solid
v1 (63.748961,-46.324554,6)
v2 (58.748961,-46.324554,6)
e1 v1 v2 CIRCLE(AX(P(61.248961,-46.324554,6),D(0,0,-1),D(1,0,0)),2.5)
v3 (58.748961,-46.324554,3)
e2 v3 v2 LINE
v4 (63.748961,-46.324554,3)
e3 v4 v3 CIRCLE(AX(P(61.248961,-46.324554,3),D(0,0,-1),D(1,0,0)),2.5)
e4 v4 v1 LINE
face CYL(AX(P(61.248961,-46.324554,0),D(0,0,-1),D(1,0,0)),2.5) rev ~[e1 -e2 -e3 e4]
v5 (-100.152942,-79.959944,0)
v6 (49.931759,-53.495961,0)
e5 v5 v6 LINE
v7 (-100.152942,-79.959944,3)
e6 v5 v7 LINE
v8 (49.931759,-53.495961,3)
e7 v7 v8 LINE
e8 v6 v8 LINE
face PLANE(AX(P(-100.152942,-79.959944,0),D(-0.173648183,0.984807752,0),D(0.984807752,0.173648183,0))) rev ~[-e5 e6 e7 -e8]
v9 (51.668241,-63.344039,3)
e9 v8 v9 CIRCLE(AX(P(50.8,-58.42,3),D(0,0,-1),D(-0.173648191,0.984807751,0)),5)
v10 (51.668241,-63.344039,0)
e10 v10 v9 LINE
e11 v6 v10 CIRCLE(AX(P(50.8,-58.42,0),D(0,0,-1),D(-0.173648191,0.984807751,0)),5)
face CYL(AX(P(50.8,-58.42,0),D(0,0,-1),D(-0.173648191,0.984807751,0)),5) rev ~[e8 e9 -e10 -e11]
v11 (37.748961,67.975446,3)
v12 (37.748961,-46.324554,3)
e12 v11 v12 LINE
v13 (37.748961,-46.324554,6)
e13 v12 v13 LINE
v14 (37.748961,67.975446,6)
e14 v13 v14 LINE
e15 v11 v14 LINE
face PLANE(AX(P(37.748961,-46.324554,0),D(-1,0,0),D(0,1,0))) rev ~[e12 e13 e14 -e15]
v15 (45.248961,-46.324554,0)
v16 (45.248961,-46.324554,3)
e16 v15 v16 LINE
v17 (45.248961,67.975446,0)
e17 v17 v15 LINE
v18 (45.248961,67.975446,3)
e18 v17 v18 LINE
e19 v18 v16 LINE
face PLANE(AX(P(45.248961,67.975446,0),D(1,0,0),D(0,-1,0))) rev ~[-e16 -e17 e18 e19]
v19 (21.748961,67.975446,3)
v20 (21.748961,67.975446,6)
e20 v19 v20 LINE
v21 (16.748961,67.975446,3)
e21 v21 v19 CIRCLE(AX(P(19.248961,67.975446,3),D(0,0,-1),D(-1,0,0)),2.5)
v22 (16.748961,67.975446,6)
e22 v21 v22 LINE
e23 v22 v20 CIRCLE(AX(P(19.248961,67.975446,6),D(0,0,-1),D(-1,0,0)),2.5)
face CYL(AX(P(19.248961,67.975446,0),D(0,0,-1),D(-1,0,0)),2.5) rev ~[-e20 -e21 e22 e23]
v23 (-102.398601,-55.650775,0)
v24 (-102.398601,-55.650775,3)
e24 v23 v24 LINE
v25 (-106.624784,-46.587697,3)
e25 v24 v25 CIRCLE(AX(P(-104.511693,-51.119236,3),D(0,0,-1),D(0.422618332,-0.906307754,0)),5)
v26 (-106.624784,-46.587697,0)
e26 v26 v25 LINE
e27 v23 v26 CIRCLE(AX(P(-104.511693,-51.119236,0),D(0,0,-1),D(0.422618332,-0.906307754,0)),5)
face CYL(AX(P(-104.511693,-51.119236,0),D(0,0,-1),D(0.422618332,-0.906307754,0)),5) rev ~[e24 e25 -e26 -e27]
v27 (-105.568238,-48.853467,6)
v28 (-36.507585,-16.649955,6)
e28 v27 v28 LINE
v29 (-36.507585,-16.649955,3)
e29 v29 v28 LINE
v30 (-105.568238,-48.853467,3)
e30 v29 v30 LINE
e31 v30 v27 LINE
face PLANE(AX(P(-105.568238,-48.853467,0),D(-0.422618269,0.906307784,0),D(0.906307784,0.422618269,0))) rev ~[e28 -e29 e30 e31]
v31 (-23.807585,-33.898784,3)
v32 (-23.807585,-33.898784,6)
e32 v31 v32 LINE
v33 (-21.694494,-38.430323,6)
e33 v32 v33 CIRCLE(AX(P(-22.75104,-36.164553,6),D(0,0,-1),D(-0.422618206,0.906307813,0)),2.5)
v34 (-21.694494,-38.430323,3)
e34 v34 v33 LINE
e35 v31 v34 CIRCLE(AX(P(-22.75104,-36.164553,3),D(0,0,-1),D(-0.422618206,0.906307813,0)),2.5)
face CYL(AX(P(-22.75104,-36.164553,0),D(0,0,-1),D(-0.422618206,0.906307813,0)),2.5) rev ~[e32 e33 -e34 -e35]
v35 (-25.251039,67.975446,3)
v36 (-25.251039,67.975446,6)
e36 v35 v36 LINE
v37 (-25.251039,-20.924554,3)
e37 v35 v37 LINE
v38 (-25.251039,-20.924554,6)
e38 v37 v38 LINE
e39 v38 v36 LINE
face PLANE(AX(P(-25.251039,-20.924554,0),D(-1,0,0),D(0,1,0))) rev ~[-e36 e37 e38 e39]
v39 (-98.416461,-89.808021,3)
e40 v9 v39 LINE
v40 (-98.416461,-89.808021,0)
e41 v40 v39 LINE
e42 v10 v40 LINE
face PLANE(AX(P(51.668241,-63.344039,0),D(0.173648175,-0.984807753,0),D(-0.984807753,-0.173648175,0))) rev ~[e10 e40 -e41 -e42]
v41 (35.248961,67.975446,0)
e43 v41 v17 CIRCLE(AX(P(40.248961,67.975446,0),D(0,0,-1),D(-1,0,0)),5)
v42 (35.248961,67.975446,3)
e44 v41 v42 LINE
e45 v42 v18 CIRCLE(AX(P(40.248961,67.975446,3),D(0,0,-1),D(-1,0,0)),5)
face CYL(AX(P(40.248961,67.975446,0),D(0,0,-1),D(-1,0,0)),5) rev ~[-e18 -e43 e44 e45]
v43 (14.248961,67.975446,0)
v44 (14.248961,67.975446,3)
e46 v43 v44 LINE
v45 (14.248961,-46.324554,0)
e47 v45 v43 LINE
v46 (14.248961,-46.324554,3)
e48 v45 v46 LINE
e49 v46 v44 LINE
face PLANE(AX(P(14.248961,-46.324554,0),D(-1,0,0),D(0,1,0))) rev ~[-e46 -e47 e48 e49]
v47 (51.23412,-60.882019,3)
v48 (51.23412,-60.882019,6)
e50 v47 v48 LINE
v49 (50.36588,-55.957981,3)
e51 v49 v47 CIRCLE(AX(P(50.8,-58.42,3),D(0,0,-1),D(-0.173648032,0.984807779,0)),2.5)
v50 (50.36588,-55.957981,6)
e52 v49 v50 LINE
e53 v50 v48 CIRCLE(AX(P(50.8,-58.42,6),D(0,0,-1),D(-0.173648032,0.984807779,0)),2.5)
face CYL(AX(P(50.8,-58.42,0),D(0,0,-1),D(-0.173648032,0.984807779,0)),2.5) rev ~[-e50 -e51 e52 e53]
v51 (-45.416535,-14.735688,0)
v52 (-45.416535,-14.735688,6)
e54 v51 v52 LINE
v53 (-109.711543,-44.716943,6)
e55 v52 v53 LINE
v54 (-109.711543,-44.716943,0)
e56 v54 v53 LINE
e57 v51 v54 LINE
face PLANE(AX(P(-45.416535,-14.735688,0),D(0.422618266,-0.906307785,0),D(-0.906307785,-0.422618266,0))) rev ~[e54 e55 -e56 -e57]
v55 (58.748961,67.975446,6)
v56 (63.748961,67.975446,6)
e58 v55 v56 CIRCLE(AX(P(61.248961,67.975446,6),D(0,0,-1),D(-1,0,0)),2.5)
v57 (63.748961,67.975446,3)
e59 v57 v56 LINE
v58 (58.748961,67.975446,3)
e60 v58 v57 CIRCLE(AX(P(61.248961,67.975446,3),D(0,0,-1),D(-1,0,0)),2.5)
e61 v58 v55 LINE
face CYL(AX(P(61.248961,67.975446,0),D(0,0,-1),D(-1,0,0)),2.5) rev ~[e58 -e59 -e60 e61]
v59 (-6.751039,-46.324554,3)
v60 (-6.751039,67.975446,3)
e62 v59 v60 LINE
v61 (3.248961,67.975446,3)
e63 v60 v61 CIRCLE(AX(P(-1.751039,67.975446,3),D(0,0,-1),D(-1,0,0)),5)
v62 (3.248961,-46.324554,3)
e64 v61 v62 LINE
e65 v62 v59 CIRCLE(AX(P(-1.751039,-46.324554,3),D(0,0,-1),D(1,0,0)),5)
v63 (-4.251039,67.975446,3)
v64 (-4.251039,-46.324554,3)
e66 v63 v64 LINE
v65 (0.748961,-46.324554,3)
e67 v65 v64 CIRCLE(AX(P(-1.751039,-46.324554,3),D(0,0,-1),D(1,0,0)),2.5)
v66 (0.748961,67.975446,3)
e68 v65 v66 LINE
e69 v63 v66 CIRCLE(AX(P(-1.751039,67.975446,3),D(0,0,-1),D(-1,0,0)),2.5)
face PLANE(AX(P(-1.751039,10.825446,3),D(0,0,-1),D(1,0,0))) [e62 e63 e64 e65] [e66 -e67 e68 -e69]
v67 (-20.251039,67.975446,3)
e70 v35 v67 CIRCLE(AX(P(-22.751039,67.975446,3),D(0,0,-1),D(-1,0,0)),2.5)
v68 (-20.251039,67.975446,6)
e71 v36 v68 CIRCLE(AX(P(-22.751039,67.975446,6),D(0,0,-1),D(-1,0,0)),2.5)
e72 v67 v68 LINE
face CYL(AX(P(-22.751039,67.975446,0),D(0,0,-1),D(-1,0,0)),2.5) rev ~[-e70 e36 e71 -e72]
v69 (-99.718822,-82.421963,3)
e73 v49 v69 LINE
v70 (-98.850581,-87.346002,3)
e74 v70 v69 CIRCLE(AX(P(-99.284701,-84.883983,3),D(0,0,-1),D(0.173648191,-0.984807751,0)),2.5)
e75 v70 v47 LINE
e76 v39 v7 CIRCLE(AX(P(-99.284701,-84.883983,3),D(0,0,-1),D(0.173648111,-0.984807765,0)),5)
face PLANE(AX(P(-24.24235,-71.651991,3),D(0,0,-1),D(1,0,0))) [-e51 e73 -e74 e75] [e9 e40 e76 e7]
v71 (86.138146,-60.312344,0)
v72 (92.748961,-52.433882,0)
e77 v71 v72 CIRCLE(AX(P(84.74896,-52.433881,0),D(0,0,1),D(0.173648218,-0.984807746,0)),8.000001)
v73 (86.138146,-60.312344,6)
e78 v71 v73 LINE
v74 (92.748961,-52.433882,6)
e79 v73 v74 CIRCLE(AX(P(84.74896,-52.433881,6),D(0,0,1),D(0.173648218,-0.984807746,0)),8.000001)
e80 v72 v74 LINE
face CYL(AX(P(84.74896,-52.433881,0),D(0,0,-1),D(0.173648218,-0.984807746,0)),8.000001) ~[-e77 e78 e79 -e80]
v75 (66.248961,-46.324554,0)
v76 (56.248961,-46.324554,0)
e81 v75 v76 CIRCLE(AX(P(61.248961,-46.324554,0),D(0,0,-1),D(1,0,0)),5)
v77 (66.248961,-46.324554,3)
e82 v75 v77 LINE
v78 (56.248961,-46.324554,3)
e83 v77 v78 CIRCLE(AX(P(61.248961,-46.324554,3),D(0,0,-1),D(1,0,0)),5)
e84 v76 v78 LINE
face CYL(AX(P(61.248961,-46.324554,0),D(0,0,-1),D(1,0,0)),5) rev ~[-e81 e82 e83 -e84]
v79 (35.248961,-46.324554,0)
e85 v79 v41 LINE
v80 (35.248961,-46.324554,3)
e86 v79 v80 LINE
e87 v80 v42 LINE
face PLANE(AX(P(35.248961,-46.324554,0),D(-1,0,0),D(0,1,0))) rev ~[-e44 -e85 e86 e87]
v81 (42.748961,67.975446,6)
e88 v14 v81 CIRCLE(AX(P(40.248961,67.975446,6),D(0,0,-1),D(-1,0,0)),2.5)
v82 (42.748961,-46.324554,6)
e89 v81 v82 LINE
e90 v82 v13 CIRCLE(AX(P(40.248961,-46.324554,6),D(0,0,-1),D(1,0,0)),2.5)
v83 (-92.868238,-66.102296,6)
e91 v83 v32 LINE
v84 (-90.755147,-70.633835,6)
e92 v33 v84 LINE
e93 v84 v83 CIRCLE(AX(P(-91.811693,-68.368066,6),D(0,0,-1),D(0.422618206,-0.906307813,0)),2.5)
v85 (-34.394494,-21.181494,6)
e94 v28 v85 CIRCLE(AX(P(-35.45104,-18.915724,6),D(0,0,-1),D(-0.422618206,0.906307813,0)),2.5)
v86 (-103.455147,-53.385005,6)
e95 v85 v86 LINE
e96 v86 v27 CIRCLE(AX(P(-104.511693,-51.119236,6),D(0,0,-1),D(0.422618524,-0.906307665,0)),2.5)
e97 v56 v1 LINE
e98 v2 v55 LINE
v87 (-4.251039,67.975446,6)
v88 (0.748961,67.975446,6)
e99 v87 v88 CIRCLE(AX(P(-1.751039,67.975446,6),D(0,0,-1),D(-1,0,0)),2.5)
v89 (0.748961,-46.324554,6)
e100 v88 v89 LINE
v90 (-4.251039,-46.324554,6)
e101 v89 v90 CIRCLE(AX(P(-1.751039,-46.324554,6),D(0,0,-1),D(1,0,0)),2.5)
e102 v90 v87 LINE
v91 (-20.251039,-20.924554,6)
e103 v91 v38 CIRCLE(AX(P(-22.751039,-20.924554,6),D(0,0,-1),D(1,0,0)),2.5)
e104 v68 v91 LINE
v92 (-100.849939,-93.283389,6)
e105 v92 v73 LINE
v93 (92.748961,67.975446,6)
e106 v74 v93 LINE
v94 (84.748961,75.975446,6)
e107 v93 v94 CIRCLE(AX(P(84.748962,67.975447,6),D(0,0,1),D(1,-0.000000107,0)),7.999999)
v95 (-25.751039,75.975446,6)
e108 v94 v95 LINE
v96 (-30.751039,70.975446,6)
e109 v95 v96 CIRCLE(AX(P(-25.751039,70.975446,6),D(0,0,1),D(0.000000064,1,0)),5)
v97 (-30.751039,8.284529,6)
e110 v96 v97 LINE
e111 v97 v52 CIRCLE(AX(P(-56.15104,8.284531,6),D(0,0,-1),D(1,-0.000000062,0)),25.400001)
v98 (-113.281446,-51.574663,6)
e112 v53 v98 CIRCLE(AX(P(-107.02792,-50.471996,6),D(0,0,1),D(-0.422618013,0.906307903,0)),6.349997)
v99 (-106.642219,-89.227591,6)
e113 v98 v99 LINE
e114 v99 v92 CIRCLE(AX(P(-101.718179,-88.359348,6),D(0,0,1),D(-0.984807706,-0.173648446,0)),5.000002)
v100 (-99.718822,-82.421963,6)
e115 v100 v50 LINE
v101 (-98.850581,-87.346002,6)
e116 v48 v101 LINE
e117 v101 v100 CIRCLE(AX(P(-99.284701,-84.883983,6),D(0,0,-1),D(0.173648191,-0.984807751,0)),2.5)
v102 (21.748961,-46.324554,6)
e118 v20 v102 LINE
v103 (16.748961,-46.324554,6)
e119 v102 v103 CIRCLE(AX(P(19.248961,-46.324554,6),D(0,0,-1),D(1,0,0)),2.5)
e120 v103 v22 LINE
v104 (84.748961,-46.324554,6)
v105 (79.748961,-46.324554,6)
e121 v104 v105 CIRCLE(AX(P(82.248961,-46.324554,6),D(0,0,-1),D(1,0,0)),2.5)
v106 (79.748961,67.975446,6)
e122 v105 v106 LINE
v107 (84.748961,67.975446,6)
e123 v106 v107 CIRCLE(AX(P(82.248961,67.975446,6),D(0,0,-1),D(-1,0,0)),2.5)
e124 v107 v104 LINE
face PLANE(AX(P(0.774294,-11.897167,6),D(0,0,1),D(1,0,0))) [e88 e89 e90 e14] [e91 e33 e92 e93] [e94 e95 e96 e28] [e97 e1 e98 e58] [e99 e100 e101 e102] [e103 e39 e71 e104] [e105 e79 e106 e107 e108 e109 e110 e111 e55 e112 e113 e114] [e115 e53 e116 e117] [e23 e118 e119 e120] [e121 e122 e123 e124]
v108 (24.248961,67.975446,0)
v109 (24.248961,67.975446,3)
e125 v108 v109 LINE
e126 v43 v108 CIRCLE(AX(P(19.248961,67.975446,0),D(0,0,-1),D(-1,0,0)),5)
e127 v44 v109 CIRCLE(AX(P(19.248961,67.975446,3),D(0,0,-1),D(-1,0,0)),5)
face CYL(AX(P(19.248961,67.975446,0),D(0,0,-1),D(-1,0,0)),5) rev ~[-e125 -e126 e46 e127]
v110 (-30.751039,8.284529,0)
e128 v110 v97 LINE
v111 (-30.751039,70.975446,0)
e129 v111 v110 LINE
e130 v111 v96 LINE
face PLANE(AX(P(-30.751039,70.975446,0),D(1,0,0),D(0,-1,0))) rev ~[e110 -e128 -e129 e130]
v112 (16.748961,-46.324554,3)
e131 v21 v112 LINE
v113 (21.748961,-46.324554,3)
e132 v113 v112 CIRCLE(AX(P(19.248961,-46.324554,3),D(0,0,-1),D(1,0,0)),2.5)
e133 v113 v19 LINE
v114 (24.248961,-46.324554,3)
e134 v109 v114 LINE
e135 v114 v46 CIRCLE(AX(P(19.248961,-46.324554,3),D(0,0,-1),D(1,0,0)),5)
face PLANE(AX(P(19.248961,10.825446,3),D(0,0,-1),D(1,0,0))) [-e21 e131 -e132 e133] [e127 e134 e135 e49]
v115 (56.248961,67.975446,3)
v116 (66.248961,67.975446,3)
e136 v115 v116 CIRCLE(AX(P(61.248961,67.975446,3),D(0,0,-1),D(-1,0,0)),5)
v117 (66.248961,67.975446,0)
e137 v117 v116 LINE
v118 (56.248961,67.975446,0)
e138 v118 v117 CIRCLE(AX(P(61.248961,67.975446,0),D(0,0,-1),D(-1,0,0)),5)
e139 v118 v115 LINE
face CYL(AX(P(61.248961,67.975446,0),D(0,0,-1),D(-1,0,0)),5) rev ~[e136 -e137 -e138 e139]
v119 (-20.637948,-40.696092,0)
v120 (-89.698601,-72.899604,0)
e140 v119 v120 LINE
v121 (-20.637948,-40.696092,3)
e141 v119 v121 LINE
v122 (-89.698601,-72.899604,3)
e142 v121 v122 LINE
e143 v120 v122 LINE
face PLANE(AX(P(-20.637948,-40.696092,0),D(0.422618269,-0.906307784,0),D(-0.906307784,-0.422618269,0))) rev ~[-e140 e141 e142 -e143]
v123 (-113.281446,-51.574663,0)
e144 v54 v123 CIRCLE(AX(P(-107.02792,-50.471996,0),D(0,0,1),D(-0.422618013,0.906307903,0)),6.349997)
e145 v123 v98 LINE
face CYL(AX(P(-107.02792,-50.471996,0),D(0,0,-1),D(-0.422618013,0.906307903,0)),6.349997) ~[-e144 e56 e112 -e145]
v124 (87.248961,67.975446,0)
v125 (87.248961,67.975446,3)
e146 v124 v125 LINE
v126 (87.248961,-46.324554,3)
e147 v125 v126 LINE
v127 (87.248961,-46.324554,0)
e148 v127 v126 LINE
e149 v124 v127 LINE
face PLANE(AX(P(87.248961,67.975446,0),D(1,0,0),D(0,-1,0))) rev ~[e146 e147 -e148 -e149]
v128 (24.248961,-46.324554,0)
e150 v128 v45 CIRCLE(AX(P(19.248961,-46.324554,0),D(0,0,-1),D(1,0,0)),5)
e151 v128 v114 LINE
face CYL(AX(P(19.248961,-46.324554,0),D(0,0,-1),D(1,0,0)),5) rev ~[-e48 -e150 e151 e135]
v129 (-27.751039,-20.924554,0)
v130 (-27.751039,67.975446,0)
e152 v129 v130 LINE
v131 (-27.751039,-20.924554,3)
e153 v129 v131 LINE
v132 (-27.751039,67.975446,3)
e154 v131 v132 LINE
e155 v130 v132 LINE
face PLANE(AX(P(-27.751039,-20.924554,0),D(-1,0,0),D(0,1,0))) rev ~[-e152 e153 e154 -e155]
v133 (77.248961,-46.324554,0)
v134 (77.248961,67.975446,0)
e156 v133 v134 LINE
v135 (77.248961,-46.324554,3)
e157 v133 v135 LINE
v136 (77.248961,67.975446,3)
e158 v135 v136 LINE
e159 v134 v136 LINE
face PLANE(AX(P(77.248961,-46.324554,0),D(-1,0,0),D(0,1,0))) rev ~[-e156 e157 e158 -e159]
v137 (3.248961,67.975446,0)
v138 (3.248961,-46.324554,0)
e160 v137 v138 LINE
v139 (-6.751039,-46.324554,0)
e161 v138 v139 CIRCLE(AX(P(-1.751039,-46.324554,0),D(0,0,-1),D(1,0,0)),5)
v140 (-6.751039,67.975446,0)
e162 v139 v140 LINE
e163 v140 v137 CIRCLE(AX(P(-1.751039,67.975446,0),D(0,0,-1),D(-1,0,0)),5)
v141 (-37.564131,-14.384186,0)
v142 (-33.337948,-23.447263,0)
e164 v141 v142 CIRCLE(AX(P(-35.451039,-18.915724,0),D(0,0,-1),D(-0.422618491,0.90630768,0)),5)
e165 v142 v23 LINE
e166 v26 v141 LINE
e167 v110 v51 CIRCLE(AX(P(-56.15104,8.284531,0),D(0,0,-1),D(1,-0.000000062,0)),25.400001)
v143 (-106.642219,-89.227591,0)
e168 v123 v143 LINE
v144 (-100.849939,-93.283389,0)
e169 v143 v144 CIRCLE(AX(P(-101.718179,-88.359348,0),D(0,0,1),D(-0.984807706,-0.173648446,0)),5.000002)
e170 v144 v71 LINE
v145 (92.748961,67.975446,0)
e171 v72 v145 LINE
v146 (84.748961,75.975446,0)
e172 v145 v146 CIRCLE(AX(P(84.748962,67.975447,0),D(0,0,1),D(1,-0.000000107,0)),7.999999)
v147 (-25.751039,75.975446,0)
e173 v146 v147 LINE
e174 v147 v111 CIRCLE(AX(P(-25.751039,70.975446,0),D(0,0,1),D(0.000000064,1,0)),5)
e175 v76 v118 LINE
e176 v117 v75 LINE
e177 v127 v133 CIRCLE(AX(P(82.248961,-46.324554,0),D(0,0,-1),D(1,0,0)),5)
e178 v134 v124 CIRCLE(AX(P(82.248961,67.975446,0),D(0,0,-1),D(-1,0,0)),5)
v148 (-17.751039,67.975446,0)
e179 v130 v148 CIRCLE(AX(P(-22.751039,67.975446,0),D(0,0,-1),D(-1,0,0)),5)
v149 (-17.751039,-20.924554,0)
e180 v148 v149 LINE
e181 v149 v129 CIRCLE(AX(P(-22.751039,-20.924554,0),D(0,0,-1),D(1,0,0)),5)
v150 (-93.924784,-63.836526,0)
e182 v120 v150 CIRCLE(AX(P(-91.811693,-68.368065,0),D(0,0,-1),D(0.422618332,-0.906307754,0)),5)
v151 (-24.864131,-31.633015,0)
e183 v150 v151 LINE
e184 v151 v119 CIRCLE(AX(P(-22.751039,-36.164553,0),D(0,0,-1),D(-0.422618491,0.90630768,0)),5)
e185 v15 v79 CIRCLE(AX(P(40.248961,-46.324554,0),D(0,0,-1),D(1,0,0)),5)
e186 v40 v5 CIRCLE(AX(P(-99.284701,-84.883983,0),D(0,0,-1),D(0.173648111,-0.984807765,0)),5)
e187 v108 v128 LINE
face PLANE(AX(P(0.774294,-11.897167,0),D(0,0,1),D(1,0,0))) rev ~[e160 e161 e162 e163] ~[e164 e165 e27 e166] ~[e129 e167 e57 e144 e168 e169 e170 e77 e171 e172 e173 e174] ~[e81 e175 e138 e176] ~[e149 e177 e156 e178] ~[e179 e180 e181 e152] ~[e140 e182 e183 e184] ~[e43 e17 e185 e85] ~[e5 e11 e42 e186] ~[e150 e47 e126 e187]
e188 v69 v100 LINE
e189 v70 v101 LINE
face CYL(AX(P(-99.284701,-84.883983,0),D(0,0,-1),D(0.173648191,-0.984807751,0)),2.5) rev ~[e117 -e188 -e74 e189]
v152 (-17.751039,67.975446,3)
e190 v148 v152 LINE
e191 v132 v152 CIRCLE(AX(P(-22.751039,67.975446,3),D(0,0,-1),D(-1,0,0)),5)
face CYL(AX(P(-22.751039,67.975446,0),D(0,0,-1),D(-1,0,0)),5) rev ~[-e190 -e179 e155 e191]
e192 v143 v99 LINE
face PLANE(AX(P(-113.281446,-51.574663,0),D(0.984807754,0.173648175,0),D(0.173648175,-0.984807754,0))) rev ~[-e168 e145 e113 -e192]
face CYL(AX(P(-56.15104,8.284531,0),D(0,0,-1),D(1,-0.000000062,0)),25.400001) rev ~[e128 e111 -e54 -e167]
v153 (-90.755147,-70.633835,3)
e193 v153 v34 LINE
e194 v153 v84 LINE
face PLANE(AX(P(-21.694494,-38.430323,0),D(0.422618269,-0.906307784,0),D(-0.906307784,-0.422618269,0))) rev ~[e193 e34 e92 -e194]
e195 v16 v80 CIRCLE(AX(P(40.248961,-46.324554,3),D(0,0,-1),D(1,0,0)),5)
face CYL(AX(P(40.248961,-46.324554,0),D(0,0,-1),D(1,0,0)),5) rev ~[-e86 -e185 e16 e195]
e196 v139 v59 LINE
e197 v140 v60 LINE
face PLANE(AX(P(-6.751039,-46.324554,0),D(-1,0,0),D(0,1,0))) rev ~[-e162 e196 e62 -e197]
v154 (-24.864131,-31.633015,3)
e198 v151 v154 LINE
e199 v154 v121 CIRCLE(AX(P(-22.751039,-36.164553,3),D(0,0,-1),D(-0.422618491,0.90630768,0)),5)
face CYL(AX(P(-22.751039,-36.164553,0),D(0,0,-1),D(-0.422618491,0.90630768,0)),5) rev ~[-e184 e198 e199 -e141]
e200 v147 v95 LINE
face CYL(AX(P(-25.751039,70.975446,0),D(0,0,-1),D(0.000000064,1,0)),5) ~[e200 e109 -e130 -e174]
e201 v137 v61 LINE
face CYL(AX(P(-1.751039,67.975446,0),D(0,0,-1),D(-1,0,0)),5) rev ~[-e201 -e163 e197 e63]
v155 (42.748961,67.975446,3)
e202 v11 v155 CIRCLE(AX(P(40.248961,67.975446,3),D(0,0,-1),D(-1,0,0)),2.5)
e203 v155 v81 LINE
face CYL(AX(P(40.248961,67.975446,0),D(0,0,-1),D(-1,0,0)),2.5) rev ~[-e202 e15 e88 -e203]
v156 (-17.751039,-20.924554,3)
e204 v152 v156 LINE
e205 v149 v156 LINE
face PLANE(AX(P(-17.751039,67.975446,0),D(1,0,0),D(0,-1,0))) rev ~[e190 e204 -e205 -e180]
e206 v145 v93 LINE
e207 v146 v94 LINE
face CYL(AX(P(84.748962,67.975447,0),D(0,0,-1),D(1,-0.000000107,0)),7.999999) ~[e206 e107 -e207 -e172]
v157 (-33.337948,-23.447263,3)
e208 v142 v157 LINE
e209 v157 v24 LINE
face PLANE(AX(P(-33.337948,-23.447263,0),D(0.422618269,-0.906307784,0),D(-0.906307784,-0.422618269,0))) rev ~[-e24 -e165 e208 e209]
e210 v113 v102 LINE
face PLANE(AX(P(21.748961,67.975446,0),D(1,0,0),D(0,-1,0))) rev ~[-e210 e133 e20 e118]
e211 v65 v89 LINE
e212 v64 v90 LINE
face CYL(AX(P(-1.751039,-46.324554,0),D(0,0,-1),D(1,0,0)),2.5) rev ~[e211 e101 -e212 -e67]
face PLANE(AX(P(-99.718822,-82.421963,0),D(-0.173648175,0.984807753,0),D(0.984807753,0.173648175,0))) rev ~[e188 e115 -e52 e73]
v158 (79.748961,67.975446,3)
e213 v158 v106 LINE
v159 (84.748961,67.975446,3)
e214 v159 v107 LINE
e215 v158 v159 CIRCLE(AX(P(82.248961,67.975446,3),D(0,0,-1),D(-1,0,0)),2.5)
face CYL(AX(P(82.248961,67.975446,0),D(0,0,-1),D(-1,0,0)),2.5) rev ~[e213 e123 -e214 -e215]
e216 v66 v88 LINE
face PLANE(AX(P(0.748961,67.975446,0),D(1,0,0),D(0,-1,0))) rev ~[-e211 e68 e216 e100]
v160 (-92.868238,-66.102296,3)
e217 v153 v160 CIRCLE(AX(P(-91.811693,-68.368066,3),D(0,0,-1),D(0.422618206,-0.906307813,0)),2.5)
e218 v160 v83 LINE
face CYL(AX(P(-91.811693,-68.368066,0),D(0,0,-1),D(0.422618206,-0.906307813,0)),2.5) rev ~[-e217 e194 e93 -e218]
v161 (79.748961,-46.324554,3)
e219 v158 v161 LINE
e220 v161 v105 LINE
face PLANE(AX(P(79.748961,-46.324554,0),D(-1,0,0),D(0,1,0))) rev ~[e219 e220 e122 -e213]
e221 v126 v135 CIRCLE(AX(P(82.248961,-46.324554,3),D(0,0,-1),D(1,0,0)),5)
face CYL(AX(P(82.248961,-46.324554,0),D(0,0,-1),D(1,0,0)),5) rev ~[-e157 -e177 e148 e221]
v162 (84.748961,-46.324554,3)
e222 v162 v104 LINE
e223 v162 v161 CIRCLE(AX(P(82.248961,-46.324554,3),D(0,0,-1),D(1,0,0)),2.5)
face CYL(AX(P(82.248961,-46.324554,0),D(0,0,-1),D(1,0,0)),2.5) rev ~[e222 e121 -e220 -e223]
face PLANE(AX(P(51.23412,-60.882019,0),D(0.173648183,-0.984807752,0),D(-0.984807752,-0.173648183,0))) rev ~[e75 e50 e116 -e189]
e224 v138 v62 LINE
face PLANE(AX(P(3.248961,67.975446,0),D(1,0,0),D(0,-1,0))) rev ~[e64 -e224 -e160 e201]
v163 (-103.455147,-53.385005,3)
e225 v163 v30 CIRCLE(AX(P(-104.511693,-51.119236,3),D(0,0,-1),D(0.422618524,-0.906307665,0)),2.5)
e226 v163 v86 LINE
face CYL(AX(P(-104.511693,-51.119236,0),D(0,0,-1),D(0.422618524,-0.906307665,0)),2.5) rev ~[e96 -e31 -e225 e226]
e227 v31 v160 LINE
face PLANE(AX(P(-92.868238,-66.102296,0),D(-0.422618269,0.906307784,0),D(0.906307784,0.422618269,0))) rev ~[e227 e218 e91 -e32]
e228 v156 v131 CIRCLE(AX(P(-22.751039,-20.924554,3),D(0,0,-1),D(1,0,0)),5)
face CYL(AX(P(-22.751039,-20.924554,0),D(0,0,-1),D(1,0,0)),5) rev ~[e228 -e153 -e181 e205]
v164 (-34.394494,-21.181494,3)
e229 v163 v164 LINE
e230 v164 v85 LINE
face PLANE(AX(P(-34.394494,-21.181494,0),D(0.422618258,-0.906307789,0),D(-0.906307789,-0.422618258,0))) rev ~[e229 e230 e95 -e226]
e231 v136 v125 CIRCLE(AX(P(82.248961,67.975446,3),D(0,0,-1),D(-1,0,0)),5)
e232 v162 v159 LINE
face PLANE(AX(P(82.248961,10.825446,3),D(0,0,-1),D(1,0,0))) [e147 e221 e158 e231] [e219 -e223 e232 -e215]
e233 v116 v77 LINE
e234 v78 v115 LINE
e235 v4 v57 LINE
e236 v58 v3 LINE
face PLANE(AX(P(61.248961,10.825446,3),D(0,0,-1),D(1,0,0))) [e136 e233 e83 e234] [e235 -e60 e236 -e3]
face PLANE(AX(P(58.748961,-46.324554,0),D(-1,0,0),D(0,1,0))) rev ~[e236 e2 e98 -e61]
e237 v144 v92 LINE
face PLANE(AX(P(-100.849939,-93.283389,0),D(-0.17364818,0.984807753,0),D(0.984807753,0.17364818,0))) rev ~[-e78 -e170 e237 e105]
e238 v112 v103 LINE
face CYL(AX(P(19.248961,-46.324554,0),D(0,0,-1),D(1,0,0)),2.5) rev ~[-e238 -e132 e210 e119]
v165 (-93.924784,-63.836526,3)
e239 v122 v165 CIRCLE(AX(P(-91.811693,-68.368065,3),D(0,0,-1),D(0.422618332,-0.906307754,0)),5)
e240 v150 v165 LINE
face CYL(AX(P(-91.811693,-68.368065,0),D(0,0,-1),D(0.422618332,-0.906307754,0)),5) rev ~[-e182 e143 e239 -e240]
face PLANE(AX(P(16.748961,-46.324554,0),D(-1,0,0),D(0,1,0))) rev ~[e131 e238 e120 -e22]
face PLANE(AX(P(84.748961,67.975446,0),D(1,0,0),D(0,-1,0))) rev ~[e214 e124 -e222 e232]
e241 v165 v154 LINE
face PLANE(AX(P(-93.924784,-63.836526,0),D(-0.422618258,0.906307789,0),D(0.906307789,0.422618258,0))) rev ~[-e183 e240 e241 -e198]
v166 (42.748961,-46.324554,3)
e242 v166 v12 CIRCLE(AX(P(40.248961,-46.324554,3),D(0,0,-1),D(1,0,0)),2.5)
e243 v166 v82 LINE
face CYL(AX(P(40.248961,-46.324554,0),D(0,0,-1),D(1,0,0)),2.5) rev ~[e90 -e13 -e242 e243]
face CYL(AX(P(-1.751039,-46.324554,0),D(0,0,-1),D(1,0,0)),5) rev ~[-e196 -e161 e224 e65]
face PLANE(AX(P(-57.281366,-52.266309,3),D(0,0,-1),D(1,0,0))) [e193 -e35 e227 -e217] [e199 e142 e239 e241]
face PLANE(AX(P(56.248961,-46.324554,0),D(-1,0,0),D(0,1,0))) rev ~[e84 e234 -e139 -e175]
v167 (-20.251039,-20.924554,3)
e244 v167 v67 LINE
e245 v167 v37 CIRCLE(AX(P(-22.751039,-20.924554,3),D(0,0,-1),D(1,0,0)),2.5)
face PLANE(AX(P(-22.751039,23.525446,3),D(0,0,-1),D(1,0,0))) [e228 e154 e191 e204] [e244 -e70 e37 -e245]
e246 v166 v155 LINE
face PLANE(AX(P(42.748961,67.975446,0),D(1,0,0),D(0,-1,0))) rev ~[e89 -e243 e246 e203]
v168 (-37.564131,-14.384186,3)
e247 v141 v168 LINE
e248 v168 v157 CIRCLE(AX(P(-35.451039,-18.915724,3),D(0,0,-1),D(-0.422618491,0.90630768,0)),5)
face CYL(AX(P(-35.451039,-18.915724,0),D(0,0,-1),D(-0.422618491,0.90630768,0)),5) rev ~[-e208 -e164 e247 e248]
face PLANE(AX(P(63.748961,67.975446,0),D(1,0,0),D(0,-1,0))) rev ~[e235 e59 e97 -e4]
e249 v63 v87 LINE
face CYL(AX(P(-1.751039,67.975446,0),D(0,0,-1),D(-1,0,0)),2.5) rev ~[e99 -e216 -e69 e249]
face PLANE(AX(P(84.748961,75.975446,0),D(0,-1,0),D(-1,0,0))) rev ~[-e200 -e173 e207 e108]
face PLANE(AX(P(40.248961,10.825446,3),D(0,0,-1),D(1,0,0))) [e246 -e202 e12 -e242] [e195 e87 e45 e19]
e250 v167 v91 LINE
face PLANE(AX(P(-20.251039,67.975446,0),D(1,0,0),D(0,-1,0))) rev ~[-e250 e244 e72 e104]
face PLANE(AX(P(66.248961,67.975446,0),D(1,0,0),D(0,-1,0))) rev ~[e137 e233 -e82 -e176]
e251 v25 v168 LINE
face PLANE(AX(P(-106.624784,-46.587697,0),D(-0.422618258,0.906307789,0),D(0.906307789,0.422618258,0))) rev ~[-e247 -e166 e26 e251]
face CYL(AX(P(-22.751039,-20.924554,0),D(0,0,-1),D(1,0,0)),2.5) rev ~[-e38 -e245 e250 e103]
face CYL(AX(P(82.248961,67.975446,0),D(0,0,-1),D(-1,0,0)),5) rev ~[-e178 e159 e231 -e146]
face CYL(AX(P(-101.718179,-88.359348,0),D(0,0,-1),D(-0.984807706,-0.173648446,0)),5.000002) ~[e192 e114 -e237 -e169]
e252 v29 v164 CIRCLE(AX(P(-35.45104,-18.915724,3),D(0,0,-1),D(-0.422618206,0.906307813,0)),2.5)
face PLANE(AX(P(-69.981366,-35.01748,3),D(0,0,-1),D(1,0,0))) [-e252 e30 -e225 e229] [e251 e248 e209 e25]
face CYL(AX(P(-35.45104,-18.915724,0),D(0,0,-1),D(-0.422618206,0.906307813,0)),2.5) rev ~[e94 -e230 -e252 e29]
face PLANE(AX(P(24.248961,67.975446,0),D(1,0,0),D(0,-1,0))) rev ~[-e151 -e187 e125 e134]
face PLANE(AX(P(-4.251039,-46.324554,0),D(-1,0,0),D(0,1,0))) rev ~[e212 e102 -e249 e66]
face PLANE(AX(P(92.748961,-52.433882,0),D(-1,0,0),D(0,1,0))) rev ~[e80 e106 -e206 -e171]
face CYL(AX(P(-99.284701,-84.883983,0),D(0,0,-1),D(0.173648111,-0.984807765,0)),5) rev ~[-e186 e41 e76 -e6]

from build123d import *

# Parameters (mm, degrees)
F1_DEPTH = 6
F3_DEPTH = 3


with BuildPart() as f1:
    # F0 (on Top) → F1 (new body)
    with BuildSketch(Plane.XY):
        with BuildLine():
            Line((84.748961, 75.975446), (-25.751039, 75.975446))
            ThreePointArc((-25.751039, 75.975446), (-29.286573, 74.51098), (-30.751039, 70.975446))
            Line((-30.751039, 70.975446), (-30.751039, 8.284529))
            ThreePointArc((-30.751039, 8.284529), (-34.728897, -5.362881), (-45.416535, -14.735688))
            Line((-45.416535, -14.735688), (-109.711543, -44.716943))
            ThreePointArc((-109.711543, -44.716943), (-112.660436, -47.539893), (-113.281446, -51.574663))
            Line((-113.281446, -51.574663), (-106.642219, -89.227591))
            ThreePointArc((-106.642219, -89.227591), (-104.586062, -92.45511), (-100.849939, -93.283389))
            Line((-100.849939, -93.283389), (86.138146, -60.312344))
            ThreePointArc((86.138146, -60.312344), (90.877316, -57.576183), (92.748961, -52.433882))
            Line((92.748961, -52.433882), (92.748961, 67.975446))
            ThreePointArc((92.748961, 67.975446), (90.405815, 73.632301), (84.748961, 75.975446))
        make_face()
        with BuildLine():
            Line((-21.694494, -38.430323), (-90.755147, -70.633835))
            ThreePointArc((-90.755147, -70.633835), (-94.077462, -69.424611), (-92.868238, -66.102296))
            Line((-92.868238, -66.102296), (-23.807585, -33.898784))
            ThreePointArc((-23.807585, -33.898784), (-20.48527, -35.108008), (-21.694494, -38.430323))
        make_face(mode=Mode.SUBTRACT)
        with BuildLine():
            Line((51.23412, -60.882019), (-98.850581, -87.346002))
            ThreePointArc((-98.850581, -87.346002), (-101.746721, -85.318103), (-99.718822, -82.421963))
            Line((-99.718822, -82.421963), (50.36588, -55.957981))
            ThreePointArc((50.36588, -55.957981), (53.262019, -57.98588), (51.23412, -60.882019))
        make_face(mode=Mode.SUBTRACT)
        with BuildLine():
            Line((-34.394494, -21.181494), (-103.455147, -53.385005))
            ThreePointArc((-103.455147, -53.385005), (-106.777462, -52.175782), (-105.568238, -48.853467))
            Line((-105.568238, -48.853467), (-36.507585, -16.649955))
            ThreePointArc((-36.507585, -16.649955), (-33.18527, -17.859179), (-34.394494, -21.181494))
        make_face(mode=Mode.SUBTRACT)
        with BuildLine():
            Line((-25.251039, -20.924554), (-25.251039, 67.975446))
            ThreePointArc((-25.251039, 67.975446), (-22.751039, 70.475446), (-20.251039, 67.975446))
            Line((-20.251039, 67.975446), (-20.251039, -20.924554))
            ThreePointArc((-20.251039, -20.924554), (-22.751039, -23.424554), (-25.251039, -20.924554))
        make_face(mode=Mode.SUBTRACT)
        with BuildLine():
            Line((-4.251039, -46.324554), (-4.251039, 67.975446))
            ThreePointArc((-4.251039, 67.975446), (-1.751039, 70.475446), (0.748961, 67.975446))
            Line((0.748961, 67.975446), (0.748961, -46.324554))
            ThreePointArc((0.748961, -46.324554), (-1.751039, -48.824554), (-4.251039, -46.324554))
        make_face(mode=Mode.SUBTRACT)
        with BuildLine():
            Line((16.748961, -46.324554), (16.748961, 67.975446))
            ThreePointArc((16.748961, 67.975446), (19.248961, 70.475446), (21.748961, 67.975446))
            Line((21.748961, 67.975446), (21.748961, -46.324554))
            ThreePointArc((21.748961, -46.324554), (19.248961, -48.824554), (16.748961, -46.324554))
        make_face(mode=Mode.SUBTRACT)
        with BuildLine():
            Line((37.748961, -46.324554), (37.748961, 67.975446))
            ThreePointArc((37.748961, 67.975446), (40.248961, 70.475446), (42.748961, 67.975446))
            Line((42.748961, 67.975446), (42.748961, -46.324554))
            ThreePointArc((42.748961, -46.324554), (40.248961, -48.824554), (37.748961, -46.324554))
        make_face(mode=Mode.SUBTRACT)
        with BuildLine():
            Line((58.748961, -46.324554), (58.748961, 67.975446))
            ThreePointArc((58.748961, 67.975446), (61.248961, 70.475446), (63.748961, 67.975446))
            Line((63.748961, 67.975446), (63.748961, -46.324554))
            ThreePointArc((63.748961, -46.324554), (61.248961, -48.824554), (58.748961, -46.324554))
        make_face(mode=Mode.SUBTRACT)
        with BuildLine():
            Line((79.748961, -46.324554), (79.748961, 67.975446))
            ThreePointArc((79.748961, 67.975446), (82.248961, 70.475446), (84.748961, 67.975446))
            Line((84.748961, 67.975446), (84.748961, -46.324554))
            ThreePointArc((84.748961, -46.324554), (82.248961, -48.824554), (79.748961, -46.324554))
        make_face(mode=Mode.SUBTRACT)
    extrude(amount=F1_DEPTH)

    # F2 (on face) → F3 (cut)
    with BuildSketch(Plane(origin=(0, 0, 0), x_dir=(1, 0, 0), z_dir=(0, 0, -1))):
        with BuildLine():
            ThreePointArc((87.248961, 46.324554), (82.248961, 51.324554), (77.248961, 46.324554))
            Line((77.248961, 46.324554), (77.248961, -67.975446))
            ThreePointArc((77.248961, -67.975446), (82.248961, -72.975446), (87.248961, -67.975446))
            Line((87.248961, -67.975446), (87.248961, 46.324554))
        make_face()
        with BuildLine():
            ThreePointArc((66.248961, 46.324554), (61.248961, 51.324554), (56.248961, 46.324554))
            Line((56.248961, 46.324554), (56.248961, -67.975446))
            ThreePointArc((56.248961, -67.975446), (61.248961, -72.975446), (66.248961, -67.975446))
            Line((66.248961, -67.975446), (66.248961, 46.324554))
        make_face()
        with BuildLine():
            ThreePointArc((45.248961, 46.324554), (40.248961, 51.324554), (35.248961, 46.324554))
            Line((35.248961, 46.324554), (35.248961, -67.975446))
            ThreePointArc((35.248961, -67.975446), (40.248961, -72.975446), (45.248961, -67.975446))
            Line((45.248961, -67.975446), (45.248961, 46.324554))
        make_face()
        with BuildLine():
            ThreePointArc((24.248961, 46.324554), (19.248961, 51.324554), (14.248961, 46.324554))
            Line((14.248961, 46.324554), (14.248961, -67.975446))
            ThreePointArc((14.248961, -67.975446), (19.248961, -72.975446), (24.248961, -67.975446))
            Line((24.248961, -67.975446), (24.248961, 46.324554))
        make_face()
        with BuildLine():
            ThreePointArc((3.248961, 46.324554), (-1.751039, 51.324554), (-6.751039, 46.324554))
            Line((-6.751039, 46.324554), (-6.751039, -67.975446))
            ThreePointArc((-6.751039, -67.975446), (-1.751039, -72.975446), (3.248961, -67.975446))
            Line((3.248961, -67.975446), (3.248961, 46.324554))
        make_face()
        with BuildLine():
            ThreePointArc((-24.864131, 31.633015), (-18.2195, 34.051462), (-20.637948, 40.696092))
            Line((-20.637948, 40.696092), (-89.698601, 72.899604))
            ThreePointArc((-89.698601, 72.899604), (-96.343232, 70.481156), (-93.924784, 63.836526))
            Line((-93.924784, 63.836526), (-24.864131, 31.633015))
        make_face()
        with BuildLine():
            ThreePointArc((-17.751039, 20.924554), (-22.751039, 25.924554), (-27.751039, 20.924554))
            Line((-27.751039, 20.924554), (-27.751039, -67.975446))
            ThreePointArc((-27.751039, -67.975446), (-22.751039, -72.975446), (-17.751039, -67.975446))
            Line((-17.751039, -67.975446), (-17.751039, 20.924554))
        make_face()
        with BuildLine():
            ThreePointArc((-37.564131, 14.384186), (-30.9195, 16.802633), (-33.337948, 23.447263))
            Line((-33.337948, 23.447263), (-102.398601, 55.650775))
            ThreePointArc((-102.398601, 55.650775), (-109.043232, 53.232327), (-106.624784, 46.587697))
            Line((-106.624784, 46.587697), (-37.564131, 14.384186))
        make_face()
        with BuildLine():
            ThreePointArc((49.931759, 53.495961), (55.724039, 57.551759), (51.668241, 63.344039))
            Line((51.668241, 63.344039), (-98.416461, 89.808021))
            ThreePointArc((-98.416461, 89.808021), (-104.20874, 85.752223), (-100.152942, 79.959944))
            Line((-100.152942, 79.959944), (49.931759, 53.495961))
        make_face()
    extrude(amount=-F3_DEPTH, mode=Mode.SUBTRACT)


solid = f1.part
